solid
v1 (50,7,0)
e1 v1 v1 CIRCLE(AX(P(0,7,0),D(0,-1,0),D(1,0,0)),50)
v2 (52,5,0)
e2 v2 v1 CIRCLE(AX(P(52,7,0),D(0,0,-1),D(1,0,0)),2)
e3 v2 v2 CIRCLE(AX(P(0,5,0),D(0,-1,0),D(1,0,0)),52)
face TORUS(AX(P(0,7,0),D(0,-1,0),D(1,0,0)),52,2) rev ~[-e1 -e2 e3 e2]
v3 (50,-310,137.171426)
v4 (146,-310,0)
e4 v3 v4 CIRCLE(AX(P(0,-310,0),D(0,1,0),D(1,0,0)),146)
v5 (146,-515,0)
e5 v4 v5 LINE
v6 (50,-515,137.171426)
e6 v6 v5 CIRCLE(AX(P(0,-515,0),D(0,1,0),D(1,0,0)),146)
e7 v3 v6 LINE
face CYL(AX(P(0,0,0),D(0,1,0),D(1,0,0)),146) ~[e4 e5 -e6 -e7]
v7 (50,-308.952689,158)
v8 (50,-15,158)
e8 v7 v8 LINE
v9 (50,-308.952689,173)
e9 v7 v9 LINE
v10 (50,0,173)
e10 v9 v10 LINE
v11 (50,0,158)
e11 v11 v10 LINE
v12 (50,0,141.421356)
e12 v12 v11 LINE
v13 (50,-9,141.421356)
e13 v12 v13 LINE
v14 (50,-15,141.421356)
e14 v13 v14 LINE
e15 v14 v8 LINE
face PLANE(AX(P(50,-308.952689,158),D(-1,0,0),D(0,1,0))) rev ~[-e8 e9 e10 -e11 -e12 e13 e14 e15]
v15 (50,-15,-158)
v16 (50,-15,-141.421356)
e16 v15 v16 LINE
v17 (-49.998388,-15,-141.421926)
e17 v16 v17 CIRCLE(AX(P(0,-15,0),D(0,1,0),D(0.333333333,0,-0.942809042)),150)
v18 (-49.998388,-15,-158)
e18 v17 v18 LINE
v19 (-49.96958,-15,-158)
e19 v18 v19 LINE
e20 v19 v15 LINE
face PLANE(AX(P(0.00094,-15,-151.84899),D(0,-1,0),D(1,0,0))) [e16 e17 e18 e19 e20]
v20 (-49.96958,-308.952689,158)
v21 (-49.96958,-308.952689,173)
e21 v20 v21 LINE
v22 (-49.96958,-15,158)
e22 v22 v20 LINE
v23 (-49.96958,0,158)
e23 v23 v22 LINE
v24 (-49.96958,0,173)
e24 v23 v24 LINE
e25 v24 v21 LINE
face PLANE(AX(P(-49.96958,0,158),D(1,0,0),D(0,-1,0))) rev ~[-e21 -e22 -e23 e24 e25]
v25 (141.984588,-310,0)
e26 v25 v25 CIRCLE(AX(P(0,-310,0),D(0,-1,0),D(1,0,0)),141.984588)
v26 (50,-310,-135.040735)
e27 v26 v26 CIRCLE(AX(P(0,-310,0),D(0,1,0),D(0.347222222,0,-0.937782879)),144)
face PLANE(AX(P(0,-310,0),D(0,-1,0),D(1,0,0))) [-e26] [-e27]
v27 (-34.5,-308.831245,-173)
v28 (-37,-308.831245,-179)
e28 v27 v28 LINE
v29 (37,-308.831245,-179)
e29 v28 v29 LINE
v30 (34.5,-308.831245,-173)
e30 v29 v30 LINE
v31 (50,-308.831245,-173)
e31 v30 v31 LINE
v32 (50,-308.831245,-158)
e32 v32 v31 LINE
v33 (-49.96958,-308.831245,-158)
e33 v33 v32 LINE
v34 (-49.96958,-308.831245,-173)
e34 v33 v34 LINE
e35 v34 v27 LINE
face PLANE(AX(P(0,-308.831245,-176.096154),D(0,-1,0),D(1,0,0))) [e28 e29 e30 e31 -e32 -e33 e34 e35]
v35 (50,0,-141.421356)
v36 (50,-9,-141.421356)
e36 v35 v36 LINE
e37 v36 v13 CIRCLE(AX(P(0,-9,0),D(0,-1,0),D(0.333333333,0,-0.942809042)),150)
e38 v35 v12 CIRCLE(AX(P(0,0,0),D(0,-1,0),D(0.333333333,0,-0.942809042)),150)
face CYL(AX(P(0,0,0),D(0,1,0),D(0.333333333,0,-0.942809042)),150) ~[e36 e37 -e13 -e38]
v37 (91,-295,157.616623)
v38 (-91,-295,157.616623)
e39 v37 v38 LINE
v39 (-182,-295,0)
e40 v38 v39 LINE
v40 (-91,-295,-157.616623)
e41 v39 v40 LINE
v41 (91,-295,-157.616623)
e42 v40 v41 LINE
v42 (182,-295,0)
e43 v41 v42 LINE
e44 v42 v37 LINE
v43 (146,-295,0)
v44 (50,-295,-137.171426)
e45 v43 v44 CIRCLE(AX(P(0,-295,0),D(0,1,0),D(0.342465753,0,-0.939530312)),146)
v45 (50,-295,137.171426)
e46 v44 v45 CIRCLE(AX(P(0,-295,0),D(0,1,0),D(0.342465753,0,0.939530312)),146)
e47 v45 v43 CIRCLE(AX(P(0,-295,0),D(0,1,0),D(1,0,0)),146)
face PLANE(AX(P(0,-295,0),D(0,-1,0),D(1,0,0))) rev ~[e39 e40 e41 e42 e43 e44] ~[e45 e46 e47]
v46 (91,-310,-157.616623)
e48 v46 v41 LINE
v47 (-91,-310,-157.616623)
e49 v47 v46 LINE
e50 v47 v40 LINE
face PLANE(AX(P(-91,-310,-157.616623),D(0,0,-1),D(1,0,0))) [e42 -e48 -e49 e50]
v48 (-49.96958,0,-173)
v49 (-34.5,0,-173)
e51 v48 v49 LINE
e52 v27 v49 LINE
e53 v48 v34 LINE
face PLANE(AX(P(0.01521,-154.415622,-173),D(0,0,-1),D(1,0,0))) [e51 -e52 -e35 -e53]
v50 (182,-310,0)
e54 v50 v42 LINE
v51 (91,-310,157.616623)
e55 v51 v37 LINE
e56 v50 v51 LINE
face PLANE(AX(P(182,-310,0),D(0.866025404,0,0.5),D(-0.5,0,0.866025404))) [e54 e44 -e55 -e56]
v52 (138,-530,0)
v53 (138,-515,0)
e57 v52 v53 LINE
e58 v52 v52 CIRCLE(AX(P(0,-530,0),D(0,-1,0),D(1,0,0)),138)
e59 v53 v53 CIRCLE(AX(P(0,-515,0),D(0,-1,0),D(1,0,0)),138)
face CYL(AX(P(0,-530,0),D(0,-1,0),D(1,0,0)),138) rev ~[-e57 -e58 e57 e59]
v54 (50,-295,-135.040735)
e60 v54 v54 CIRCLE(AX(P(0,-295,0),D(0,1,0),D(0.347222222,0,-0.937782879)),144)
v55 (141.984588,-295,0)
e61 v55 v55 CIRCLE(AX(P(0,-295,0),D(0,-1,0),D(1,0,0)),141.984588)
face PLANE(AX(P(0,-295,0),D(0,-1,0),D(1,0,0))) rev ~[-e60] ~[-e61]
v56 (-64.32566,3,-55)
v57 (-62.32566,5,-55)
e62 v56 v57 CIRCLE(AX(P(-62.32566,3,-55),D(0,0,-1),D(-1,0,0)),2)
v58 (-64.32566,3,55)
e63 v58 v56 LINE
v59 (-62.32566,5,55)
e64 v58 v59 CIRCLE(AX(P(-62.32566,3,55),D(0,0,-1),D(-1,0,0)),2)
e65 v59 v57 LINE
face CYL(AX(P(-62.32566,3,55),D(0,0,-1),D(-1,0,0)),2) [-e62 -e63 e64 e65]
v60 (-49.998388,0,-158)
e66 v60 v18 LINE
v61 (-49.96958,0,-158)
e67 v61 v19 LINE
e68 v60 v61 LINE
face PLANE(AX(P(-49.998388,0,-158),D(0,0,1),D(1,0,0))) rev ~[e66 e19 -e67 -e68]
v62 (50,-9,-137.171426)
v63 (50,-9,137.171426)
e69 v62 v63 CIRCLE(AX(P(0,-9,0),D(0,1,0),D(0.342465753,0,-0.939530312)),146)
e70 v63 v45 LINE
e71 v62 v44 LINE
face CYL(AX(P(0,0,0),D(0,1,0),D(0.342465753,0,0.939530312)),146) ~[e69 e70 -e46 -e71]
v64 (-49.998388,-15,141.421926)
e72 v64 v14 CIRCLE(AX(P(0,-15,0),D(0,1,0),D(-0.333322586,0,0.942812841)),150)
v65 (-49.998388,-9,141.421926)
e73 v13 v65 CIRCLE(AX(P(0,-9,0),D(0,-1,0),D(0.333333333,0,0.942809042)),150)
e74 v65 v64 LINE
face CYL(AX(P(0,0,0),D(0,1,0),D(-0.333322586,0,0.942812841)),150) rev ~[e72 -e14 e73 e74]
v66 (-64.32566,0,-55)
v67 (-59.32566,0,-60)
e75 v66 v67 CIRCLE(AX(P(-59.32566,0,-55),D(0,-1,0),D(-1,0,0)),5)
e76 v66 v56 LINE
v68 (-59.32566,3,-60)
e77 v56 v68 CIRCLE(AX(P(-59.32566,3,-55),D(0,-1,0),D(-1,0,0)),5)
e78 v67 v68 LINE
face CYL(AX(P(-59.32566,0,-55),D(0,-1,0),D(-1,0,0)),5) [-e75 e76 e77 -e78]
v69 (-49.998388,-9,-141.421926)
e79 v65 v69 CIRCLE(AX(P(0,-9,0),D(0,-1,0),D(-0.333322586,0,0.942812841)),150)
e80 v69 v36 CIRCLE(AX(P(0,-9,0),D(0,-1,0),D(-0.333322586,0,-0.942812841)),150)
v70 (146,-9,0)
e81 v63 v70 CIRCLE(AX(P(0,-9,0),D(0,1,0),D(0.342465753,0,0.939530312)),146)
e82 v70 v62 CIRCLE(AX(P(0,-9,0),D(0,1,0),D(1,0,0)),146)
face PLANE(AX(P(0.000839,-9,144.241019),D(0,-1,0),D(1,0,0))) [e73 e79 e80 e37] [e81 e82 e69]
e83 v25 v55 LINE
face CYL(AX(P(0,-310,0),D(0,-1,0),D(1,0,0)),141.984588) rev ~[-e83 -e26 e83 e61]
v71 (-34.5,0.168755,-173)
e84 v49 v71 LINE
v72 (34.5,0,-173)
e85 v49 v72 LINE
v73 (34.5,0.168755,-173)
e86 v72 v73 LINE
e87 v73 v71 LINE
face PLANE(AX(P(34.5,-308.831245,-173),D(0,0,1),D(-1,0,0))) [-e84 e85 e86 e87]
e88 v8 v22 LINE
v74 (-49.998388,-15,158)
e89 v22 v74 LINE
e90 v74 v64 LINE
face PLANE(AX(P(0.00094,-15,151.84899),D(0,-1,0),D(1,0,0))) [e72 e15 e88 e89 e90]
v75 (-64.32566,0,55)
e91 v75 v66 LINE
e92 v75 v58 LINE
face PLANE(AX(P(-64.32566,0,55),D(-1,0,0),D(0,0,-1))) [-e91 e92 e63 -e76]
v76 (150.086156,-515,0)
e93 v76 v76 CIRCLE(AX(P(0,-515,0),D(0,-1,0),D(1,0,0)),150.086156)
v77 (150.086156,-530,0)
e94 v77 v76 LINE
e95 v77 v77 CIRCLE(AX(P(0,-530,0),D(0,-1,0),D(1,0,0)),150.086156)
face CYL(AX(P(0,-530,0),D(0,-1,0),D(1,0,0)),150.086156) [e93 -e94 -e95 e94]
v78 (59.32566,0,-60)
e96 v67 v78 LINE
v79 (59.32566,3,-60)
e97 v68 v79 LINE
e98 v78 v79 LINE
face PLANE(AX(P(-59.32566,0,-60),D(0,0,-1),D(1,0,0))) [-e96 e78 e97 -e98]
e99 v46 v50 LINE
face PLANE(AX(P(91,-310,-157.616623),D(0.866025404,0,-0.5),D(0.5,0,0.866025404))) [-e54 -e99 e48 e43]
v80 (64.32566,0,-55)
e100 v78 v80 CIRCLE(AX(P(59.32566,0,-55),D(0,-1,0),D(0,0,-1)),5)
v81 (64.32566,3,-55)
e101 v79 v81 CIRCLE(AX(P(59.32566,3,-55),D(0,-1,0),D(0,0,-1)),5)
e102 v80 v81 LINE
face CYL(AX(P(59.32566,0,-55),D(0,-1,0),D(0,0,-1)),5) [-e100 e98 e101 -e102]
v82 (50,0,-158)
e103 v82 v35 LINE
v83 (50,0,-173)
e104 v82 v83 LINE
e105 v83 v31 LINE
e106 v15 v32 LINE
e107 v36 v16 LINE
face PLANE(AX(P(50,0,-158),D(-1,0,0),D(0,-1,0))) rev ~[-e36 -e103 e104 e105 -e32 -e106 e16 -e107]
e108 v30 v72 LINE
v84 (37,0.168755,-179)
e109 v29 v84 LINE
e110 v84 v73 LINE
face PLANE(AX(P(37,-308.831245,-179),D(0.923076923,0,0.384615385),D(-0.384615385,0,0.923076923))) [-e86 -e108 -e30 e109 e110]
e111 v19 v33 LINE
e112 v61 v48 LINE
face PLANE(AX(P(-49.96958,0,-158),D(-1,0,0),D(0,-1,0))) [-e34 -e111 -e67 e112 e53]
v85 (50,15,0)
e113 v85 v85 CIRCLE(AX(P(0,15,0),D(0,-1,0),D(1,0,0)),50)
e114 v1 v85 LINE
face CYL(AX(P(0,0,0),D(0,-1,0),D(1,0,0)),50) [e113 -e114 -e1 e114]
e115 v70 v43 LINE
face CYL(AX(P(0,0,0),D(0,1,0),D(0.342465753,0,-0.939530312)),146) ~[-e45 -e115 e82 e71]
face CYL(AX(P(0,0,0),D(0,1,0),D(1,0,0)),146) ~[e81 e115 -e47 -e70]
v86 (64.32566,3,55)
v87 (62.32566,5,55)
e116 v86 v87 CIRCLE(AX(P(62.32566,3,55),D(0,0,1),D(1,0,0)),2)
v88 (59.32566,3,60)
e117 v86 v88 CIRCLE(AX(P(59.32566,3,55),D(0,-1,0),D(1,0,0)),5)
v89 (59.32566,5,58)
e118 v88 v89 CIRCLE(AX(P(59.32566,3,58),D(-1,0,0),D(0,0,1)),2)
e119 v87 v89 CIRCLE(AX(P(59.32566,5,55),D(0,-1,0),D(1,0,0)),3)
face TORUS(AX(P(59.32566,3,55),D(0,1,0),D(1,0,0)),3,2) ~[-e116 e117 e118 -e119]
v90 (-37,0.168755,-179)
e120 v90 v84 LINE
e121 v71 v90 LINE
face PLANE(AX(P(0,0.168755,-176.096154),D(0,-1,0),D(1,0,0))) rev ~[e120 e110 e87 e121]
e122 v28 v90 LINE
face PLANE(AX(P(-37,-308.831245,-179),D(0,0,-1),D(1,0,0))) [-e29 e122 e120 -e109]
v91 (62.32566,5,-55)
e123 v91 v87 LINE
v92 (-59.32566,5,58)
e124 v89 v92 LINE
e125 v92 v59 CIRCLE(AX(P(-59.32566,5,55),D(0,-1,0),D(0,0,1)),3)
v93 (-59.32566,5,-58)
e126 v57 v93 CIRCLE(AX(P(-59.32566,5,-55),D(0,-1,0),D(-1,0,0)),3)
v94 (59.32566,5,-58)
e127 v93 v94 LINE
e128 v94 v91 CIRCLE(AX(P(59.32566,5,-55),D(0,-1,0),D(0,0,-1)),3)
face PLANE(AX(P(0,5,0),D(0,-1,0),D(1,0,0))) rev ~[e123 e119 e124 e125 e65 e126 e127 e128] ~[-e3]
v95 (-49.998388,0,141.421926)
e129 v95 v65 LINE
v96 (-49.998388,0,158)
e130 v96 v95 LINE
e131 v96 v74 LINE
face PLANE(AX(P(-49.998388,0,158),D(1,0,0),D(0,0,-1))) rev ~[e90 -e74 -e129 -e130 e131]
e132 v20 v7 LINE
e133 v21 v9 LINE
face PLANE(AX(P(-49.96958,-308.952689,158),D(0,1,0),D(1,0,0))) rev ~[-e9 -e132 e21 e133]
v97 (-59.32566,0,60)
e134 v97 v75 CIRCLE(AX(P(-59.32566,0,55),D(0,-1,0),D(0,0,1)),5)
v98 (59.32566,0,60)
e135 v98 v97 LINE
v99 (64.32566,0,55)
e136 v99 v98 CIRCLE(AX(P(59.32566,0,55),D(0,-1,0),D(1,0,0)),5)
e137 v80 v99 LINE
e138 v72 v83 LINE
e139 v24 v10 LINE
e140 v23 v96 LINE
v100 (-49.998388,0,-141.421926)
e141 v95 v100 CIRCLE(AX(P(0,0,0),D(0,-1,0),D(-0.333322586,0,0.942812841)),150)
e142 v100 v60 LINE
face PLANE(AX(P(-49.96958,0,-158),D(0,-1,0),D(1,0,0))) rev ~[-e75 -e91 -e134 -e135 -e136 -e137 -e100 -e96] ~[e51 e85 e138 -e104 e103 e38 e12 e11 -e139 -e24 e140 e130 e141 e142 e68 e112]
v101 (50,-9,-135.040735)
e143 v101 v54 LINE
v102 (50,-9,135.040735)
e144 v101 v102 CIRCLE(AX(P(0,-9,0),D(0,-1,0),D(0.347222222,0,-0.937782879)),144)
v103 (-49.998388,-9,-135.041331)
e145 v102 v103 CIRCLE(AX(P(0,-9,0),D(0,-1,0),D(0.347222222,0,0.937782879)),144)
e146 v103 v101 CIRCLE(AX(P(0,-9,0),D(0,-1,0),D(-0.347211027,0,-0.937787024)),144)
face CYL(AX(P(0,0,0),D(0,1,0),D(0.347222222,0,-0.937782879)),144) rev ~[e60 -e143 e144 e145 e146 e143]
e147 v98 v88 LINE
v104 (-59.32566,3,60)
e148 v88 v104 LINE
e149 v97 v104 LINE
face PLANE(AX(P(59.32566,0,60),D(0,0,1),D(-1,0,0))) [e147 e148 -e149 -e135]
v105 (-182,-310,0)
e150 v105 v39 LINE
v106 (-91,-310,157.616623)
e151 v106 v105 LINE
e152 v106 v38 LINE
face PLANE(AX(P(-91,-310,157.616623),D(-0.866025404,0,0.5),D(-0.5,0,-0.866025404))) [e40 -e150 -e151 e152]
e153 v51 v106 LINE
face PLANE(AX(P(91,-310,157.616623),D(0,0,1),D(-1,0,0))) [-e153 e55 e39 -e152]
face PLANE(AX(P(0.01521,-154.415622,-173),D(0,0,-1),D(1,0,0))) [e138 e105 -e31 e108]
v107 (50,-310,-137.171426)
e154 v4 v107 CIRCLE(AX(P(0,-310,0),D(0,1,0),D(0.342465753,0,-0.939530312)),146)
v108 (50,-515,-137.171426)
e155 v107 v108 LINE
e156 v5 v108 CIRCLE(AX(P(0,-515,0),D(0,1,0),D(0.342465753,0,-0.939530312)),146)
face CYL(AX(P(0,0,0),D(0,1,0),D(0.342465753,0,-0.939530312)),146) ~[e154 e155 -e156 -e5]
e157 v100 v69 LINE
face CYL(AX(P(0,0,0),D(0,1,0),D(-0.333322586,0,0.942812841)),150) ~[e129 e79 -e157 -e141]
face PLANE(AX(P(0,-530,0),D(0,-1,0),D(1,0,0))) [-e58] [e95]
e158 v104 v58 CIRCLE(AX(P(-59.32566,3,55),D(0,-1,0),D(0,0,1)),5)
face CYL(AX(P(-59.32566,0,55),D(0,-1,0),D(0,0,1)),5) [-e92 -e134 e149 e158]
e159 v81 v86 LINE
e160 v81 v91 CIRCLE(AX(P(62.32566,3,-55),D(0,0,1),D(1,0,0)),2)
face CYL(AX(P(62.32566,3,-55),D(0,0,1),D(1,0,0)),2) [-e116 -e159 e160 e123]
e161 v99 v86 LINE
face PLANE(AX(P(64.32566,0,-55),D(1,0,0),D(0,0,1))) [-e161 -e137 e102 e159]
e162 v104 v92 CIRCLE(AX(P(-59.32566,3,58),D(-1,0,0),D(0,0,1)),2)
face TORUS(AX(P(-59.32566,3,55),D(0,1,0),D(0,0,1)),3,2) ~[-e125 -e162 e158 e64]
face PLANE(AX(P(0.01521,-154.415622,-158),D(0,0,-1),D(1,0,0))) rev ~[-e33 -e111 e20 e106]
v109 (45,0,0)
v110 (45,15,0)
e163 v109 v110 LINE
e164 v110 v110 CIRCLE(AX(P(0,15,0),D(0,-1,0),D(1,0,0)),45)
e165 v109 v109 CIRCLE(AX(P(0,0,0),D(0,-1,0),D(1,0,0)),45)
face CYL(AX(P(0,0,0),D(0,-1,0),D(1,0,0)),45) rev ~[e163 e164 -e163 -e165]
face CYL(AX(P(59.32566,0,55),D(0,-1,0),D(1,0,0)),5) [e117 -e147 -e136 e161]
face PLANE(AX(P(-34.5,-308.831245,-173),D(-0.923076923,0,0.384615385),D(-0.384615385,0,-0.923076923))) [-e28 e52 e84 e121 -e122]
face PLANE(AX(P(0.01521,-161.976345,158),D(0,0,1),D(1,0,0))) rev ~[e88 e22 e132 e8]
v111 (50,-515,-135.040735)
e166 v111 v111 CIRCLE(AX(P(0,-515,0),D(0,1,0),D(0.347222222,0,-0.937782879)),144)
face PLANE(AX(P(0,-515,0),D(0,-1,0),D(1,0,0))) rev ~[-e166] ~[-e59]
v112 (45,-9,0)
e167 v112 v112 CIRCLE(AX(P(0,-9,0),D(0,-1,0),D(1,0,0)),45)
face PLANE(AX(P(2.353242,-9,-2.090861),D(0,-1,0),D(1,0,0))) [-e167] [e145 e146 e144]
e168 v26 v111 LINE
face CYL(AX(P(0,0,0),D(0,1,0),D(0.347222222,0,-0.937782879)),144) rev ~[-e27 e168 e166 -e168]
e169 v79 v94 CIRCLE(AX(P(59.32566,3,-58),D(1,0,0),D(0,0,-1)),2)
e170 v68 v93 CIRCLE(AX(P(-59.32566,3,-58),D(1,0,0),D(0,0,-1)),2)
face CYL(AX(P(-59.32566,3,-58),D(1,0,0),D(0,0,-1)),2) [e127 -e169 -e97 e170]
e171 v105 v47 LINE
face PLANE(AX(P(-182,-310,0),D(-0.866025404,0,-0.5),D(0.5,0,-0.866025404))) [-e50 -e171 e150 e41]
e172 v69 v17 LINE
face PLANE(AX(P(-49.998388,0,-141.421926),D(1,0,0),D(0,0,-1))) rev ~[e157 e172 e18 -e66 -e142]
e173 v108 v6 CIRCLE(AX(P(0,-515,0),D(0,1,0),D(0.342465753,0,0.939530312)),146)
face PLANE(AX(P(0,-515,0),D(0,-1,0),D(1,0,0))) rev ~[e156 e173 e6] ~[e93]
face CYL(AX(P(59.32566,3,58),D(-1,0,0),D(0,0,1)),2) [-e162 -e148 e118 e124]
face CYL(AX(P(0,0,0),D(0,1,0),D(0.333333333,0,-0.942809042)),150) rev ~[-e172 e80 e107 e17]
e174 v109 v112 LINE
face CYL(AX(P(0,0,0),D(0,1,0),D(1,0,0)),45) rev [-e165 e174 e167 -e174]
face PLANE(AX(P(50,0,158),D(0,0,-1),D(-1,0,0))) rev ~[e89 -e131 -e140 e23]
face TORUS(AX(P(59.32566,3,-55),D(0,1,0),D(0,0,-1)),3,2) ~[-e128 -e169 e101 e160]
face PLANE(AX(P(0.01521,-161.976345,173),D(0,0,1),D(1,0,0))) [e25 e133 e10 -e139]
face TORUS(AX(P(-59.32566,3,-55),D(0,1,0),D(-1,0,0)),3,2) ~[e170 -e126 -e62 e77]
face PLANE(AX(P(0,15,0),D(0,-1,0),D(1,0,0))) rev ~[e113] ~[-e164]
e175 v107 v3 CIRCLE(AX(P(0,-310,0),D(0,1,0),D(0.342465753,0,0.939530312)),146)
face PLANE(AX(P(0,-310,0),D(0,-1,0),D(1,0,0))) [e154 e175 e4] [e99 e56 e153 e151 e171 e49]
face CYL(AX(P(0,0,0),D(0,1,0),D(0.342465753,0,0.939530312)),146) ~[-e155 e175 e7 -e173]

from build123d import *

# Parameters (mm, degrees)
F1_DEPTH  = 530
F0_R      = 50
F0_R_2    = 45
F2_DEPTH  = 9
F3_R      = 150.0861563529
F3_R_2    = 146
F3_R_3    = 144
F3_R_4    = 138
F4_DEPTH  = 15
F5_DEPTH  = 15
F7_R      = 141.9845884843
F8_DEPTH  = 15
F9_W      = 99.9695800245
F9_H      = 293.9526891708
F9_H_2    = 15
F10_DEPTH = 15
F11_W     = 99.9695800245
F11_H     = 308.8312447071
F12_DEPTH = 15
F14_DEPTH = 309
F15_DEPTH = 15
F16_DEPTH = 5
F17_R     = 2


with BuildPart() as f1:
    # F0 (on Front) → F1 (new body)
    with BuildSketch(Plane.XZ):
        with BuildLine():
            Line((50, 135.0407345952), (50, 137.1714255959))
            ThreePointArc((50, 137.1714255959), (0.000857941, 145.9999999975), (-49.9983878734, 137.1720132172))
            Line((-49.9983878734, 137.1720132172), (-49.9983878734, 135.041331488))
            ThreePointArc((-49.9983878734, 135.041331488), (0.0008595396, 143.9999999974), (50, 135.0407345952))
        make_face()
        with BuildLine():
            Line((-49.9983878734, 135.041331488), (-49.9983878734, 137.1720132172))
            ThreePointArc((-49.9983878734, 137.1720132172), (-146, 0), (-49.9983878734, -137.1720132172))
            Line((-49.9983878734, -137.1720132172), (-49.9983878734, -135.041331488))
            ThreePointArc((-49.9983878734, -135.041331488), (-144, 0), (-49.9983878734, 135.041331488))
        make_face()
        with BuildLine():
            ThreePointArc((-49.9983878734, -137.1720132172), (0.000857941, -145.9999999975), (50, -137.1714255959))
            Line((50, -137.1714255959), (50, -135.0407345952))
            ThreePointArc((50, -135.0407345952), (0.0008595396, -143.9999999974), (-49.9983878734, -135.041331488))
            Line((-49.9983878734, -135.041331488), (-49.9983878734, -137.1720132172))
        make_face()
        with BuildLine():
            ThreePointArc((146, 0), (119.6160524344, 83.7137981458), (50, 137.1714255959))
            Line((50, 137.1714255959), (50, 135.0407345952))
            ThreePointArc((50, 135.0407345952), (118.1862936216, 82.2678552048), (144, 0))
            ThreePointArc((144, 0), (118.1862936216, -82.2678552048), (50, -135.0407345952))
            Line((50, -135.0407345952), (50, -137.1714255959))
            ThreePointArc((50, -137.1714255959), (119.6160524344, -83.7137981458), (146, 0))
        make_face()
    extrude(amount=F1_DEPTH)

    # F0 (on Front) → F2 (join)
    with BuildSketch(Plane.XZ):
        with BuildLine():
            ThreePointArc((144, 0), (118.1862936216, 82.2678552048), (50, 135.0407345952))
            ThreePointArc((50, 135.0407345952), (0.0008595396, 143.9999999974), (-49.9983878734, 135.041331488))
            ThreePointArc((-49.9983878734, 135.041331488), (-144, 0), (-49.9983878734, -135.041331488))
            ThreePointArc((-49.9983878734, -135.041331488), (0.0008595396, -143.9999999974), (50, -135.0407345952))
            ThreePointArc((50, -135.0407345952), (118.1862936216, -82.2678552048), (144, 0))
        make_face()
        with BuildLine():
            Line((-59.3256604671, 60), (59.3256604671, 60))
            ThreePointArc((59.3256604671, 60), (62.8611943731, 58.5355339059), (64.3256604671, 55))
            Line((64.3256604671, 55), (64.3256604671, -55))
            ThreePointArc((64.3256604671, -55), (62.8611943731, -58.5355339059), (59.3256604671, -60))
            Line((59.3256604671, -60), (-59.3256604671, -60))
            ThreePointArc((-59.3256604671, -60), (-62.8611943731, -58.5355339059), (-64.3256604671, -55))
            Line((-64.3256604671, -55), (-64.3256604671, 55))
            ThreePointArc((-64.3256604671, 55), (-62.8611943731, 58.5355339059), (-59.3256604671, 60))
        make_face(mode=Mode.SUBTRACT)
        with BuildLine():
            Line((50, 137.1714255959), (50, 141.4213562373))
            ThreePointArc((50, 141.4213562373), (0.0008549575, 149.9999999976), (-49.9983878734, 141.4219261998))
            Line((-49.9983878734, 141.4219261998), (-49.9983878734, 137.1720132172))
            ThreePointArc((-49.9983878734, 137.1720132172), (0.000857941, 145.9999999975), (50, 137.1714255959))
        make_face()
        with BuildLine():
            Line((-49.9983878734, 137.1720132172), (-49.9983878734, 141.4219261998))
            ThreePointArc((-49.9983878734, 141.4219261998), (-150, 0), (-49.9983878734, -141.4219261998))
            Line((-49.9983878734, -141.4219261998), (-49.9983878734, -137.1720132172))
            ThreePointArc((-49.9983878734, -137.1720132172), (-146, 0), (-49.9983878734, 137.1720132172))
        make_face()
        with BuildLine():
            ThreePointArc((-49.9983878734, -141.4219261998), (0.0008549575, -149.9999999976), (50, -141.4213562373))
            Line((50, -141.4213562373), (50, -137.1714255959))
            ThreePointArc((50, -137.1714255959), (0.000857941, -145.9999999975), (-49.9983878734, -137.1720132172))
            Line((-49.9983878734, -137.1720132172), (-49.9983878734, -141.4219261998))
        make_face()
        with BuildLine():
            ThreePointArc((50, -141.4213562373), (122.4744871392, -86.6025403784), (150, 0))
            ThreePointArc((150, 0), (122.4744871392, 86.6025403784), (50, 141.4213562373))
            Line((50, 141.4213562373), (50, 137.1714255959))
            ThreePointArc((50, 137.1714255959), (119.6160524344, 83.7137981458), (146, 0))
            ThreePointArc((146, 0), (119.6160524344, -83.7137981458), (50, -137.1714255959))
            Line((50, -137.1714255959), (50, -141.4213562373))
        make_face()
        with BuildLine():
            ThreePointArc((64.3256604671, 55), (62.8611943731, 58.5355339059), (59.3256604671, 60))
            Line((59.3256604671, 60), (-59.3256604671, 60))
            ThreePointArc((-59.3256604671, 60), (-62.8611943731, 58.5355339059), (-64.3256604671, 55))
            Line((-64.3256604671, 55), (-64.3256604671, -55))
            ThreePointArc((-64.3256604671, -55), (-62.8611943731, -58.5355339059), (-59.3256604671, -60))
            Line((-59.3256604671, -60), (59.3256604671, -60))
            ThreePointArc((59.3256604671, -60), (62.8611943731, -58.5355339059), (64.3256604671, -55))
            Line((64.3256604671, -55), (64.3256604671, 55))
        make_face()
        Circle(F0_R, mode=Mode.SUBTRACT)
        Circle(F0_R)
        Circle(F0_R_2, mode=Mode.SUBTRACT)
    extrude(amount=F2_DEPTH)

    # F3 (on face) → F4 (join)
    with BuildSketch(Plane.XZ.offset(530)):
        Circle(F3_R)
        Circle(F3_R_2, mode=Mode.SUBTRACT)
        Circle(F3_R_2)
        Circle(F3_R_3, mode=Mode.SUBTRACT)
        Circle(F3_R_3)
        Circle(F3_R_4, mode=Mode.SUBTRACT)
    extrude(amount=-F4_DEPTH)

    # F0 (on Front) → F5 (join)
    with BuildSketch(Plane.XZ):
        with BuildLine():
            ThreePointArc((-49.9983878734, 141.4219261998), (0.0008549575, 149.9999999976), (50, 141.4213562373))
            Line((50, 141.4213562373), (50, 158))
            Line((50, 158), (-49.9983878734, 158))
            Line((-49.9983878734, 158), (-49.9983878734, 141.4219261998))
        make_face()
        with BuildLine():
            Line((50, -158), (50, -141.4213562373))
            ThreePointArc((50, -141.4213562373), (0.0008549575, -149.9999999976), (-49.9983878734, -141.4219261998))
            Line((-49.9983878734, -141.4219261998), (-49.9983878734, -158))
            Line((-49.9983878734, -158), (-34.5, -158))
            Line((-34.5, -158), (34.5, -158))
            Line((34.5, -158), (50, -158))
        make_face()
    extrude(amount=F5_DEPTH)

    # F7 (on offset) → F8 (join)
    with BuildSketch(Plane.XZ.offset(310)):
        Polygon((-91, 157.6166234888), (-182, 0), (-91, -157.6166234888), (91, -157.6166234888), (182, 0), (91, 157.6166234888), align=None)
        Circle(F7_R, mode=Mode.SUBTRACT)
    extrude(amount=-F8_DEPTH)

    # F9 (on face) → F10 (join)
    with BuildSketch(Plane.XY.offset(158)):
        with Locations((0.0152099878, -161.9763445854)):
            Rectangle(F9_W, F9_H)
        with Locations((0.0152099878, -7.5)):
            Rectangle(F9_W, F9_H_2)
    extrude(amount=F10_DEPTH)

    # F11 (on face) → F12 (join)
    with BuildSketch(Plane(origin=(0, 0, -158), x_dir=(1, 0, 0), z_dir=(0, 0, -1))):
        with Locations((0.0152099878, 154.4156223536)):
            Rectangle(F11_W, F11_H)
    extrude(amount=F12_DEPTH)

    # F13 (on face) → F14 (join)
    with BuildSketch(Plane.XZ.offset(308.8312447071)):
        Polygon((37, -179), (34.5, -173), (-34.5, -173), (-37, -179), align=None)
    extrude(amount=-F14_DEPTH)

    # F0 (on Front) → F15 (join)
    with BuildSketch(Plane.XZ):
        Circle(F0_R)
        Circle(F0_R_2, mode=Mode.SUBTRACT)
    extrude(amount=-F15_DEPTH)

    # F0 (on Front) → F16 (join)
    with BuildSketch(Plane.XZ):
        with BuildLine():
            ThreePointArc((64.3256604671, 55), (62.8611943731, 58.5355339059), (59.3256604671, 60))
            Line((59.3256604671, 60), (-59.3256604671, 60))
            ThreePointArc((-59.3256604671, 60), (-62.8611943731, 58.5355339059), (-64.3256604671, 55))
            Line((-64.3256604671, 55), (-64.3256604671, -55))
            ThreePointArc((-64.3256604671, -55), (-62.8611943731, -58.5355339059), (-59.3256604671, -60))
            Line((-59.3256604671, -60), (59.3256604671, -60))
            ThreePointArc((59.3256604671, -60), (62.8611943731, -58.5355339059), (64.3256604671, -55))
            Line((64.3256604671, -55), (64.3256604671, 55))
        make_face()
        Circle(F0_R, mode=Mode.SUBTRACT)
    extrude(amount=-F16_DEPTH)

    # F17
    f17_edges = [f1.edges().sort_by_distance(p)[0] for p in [
        (64.32566, 5, 0),
        (0, 5, 60),
        (-64.32566, 5, 0),
        (0, 5, -60),
        (-50, 5, 0),
    ]]
    fillet(f17_edges, radius=F17_R)


solid = f1.part
